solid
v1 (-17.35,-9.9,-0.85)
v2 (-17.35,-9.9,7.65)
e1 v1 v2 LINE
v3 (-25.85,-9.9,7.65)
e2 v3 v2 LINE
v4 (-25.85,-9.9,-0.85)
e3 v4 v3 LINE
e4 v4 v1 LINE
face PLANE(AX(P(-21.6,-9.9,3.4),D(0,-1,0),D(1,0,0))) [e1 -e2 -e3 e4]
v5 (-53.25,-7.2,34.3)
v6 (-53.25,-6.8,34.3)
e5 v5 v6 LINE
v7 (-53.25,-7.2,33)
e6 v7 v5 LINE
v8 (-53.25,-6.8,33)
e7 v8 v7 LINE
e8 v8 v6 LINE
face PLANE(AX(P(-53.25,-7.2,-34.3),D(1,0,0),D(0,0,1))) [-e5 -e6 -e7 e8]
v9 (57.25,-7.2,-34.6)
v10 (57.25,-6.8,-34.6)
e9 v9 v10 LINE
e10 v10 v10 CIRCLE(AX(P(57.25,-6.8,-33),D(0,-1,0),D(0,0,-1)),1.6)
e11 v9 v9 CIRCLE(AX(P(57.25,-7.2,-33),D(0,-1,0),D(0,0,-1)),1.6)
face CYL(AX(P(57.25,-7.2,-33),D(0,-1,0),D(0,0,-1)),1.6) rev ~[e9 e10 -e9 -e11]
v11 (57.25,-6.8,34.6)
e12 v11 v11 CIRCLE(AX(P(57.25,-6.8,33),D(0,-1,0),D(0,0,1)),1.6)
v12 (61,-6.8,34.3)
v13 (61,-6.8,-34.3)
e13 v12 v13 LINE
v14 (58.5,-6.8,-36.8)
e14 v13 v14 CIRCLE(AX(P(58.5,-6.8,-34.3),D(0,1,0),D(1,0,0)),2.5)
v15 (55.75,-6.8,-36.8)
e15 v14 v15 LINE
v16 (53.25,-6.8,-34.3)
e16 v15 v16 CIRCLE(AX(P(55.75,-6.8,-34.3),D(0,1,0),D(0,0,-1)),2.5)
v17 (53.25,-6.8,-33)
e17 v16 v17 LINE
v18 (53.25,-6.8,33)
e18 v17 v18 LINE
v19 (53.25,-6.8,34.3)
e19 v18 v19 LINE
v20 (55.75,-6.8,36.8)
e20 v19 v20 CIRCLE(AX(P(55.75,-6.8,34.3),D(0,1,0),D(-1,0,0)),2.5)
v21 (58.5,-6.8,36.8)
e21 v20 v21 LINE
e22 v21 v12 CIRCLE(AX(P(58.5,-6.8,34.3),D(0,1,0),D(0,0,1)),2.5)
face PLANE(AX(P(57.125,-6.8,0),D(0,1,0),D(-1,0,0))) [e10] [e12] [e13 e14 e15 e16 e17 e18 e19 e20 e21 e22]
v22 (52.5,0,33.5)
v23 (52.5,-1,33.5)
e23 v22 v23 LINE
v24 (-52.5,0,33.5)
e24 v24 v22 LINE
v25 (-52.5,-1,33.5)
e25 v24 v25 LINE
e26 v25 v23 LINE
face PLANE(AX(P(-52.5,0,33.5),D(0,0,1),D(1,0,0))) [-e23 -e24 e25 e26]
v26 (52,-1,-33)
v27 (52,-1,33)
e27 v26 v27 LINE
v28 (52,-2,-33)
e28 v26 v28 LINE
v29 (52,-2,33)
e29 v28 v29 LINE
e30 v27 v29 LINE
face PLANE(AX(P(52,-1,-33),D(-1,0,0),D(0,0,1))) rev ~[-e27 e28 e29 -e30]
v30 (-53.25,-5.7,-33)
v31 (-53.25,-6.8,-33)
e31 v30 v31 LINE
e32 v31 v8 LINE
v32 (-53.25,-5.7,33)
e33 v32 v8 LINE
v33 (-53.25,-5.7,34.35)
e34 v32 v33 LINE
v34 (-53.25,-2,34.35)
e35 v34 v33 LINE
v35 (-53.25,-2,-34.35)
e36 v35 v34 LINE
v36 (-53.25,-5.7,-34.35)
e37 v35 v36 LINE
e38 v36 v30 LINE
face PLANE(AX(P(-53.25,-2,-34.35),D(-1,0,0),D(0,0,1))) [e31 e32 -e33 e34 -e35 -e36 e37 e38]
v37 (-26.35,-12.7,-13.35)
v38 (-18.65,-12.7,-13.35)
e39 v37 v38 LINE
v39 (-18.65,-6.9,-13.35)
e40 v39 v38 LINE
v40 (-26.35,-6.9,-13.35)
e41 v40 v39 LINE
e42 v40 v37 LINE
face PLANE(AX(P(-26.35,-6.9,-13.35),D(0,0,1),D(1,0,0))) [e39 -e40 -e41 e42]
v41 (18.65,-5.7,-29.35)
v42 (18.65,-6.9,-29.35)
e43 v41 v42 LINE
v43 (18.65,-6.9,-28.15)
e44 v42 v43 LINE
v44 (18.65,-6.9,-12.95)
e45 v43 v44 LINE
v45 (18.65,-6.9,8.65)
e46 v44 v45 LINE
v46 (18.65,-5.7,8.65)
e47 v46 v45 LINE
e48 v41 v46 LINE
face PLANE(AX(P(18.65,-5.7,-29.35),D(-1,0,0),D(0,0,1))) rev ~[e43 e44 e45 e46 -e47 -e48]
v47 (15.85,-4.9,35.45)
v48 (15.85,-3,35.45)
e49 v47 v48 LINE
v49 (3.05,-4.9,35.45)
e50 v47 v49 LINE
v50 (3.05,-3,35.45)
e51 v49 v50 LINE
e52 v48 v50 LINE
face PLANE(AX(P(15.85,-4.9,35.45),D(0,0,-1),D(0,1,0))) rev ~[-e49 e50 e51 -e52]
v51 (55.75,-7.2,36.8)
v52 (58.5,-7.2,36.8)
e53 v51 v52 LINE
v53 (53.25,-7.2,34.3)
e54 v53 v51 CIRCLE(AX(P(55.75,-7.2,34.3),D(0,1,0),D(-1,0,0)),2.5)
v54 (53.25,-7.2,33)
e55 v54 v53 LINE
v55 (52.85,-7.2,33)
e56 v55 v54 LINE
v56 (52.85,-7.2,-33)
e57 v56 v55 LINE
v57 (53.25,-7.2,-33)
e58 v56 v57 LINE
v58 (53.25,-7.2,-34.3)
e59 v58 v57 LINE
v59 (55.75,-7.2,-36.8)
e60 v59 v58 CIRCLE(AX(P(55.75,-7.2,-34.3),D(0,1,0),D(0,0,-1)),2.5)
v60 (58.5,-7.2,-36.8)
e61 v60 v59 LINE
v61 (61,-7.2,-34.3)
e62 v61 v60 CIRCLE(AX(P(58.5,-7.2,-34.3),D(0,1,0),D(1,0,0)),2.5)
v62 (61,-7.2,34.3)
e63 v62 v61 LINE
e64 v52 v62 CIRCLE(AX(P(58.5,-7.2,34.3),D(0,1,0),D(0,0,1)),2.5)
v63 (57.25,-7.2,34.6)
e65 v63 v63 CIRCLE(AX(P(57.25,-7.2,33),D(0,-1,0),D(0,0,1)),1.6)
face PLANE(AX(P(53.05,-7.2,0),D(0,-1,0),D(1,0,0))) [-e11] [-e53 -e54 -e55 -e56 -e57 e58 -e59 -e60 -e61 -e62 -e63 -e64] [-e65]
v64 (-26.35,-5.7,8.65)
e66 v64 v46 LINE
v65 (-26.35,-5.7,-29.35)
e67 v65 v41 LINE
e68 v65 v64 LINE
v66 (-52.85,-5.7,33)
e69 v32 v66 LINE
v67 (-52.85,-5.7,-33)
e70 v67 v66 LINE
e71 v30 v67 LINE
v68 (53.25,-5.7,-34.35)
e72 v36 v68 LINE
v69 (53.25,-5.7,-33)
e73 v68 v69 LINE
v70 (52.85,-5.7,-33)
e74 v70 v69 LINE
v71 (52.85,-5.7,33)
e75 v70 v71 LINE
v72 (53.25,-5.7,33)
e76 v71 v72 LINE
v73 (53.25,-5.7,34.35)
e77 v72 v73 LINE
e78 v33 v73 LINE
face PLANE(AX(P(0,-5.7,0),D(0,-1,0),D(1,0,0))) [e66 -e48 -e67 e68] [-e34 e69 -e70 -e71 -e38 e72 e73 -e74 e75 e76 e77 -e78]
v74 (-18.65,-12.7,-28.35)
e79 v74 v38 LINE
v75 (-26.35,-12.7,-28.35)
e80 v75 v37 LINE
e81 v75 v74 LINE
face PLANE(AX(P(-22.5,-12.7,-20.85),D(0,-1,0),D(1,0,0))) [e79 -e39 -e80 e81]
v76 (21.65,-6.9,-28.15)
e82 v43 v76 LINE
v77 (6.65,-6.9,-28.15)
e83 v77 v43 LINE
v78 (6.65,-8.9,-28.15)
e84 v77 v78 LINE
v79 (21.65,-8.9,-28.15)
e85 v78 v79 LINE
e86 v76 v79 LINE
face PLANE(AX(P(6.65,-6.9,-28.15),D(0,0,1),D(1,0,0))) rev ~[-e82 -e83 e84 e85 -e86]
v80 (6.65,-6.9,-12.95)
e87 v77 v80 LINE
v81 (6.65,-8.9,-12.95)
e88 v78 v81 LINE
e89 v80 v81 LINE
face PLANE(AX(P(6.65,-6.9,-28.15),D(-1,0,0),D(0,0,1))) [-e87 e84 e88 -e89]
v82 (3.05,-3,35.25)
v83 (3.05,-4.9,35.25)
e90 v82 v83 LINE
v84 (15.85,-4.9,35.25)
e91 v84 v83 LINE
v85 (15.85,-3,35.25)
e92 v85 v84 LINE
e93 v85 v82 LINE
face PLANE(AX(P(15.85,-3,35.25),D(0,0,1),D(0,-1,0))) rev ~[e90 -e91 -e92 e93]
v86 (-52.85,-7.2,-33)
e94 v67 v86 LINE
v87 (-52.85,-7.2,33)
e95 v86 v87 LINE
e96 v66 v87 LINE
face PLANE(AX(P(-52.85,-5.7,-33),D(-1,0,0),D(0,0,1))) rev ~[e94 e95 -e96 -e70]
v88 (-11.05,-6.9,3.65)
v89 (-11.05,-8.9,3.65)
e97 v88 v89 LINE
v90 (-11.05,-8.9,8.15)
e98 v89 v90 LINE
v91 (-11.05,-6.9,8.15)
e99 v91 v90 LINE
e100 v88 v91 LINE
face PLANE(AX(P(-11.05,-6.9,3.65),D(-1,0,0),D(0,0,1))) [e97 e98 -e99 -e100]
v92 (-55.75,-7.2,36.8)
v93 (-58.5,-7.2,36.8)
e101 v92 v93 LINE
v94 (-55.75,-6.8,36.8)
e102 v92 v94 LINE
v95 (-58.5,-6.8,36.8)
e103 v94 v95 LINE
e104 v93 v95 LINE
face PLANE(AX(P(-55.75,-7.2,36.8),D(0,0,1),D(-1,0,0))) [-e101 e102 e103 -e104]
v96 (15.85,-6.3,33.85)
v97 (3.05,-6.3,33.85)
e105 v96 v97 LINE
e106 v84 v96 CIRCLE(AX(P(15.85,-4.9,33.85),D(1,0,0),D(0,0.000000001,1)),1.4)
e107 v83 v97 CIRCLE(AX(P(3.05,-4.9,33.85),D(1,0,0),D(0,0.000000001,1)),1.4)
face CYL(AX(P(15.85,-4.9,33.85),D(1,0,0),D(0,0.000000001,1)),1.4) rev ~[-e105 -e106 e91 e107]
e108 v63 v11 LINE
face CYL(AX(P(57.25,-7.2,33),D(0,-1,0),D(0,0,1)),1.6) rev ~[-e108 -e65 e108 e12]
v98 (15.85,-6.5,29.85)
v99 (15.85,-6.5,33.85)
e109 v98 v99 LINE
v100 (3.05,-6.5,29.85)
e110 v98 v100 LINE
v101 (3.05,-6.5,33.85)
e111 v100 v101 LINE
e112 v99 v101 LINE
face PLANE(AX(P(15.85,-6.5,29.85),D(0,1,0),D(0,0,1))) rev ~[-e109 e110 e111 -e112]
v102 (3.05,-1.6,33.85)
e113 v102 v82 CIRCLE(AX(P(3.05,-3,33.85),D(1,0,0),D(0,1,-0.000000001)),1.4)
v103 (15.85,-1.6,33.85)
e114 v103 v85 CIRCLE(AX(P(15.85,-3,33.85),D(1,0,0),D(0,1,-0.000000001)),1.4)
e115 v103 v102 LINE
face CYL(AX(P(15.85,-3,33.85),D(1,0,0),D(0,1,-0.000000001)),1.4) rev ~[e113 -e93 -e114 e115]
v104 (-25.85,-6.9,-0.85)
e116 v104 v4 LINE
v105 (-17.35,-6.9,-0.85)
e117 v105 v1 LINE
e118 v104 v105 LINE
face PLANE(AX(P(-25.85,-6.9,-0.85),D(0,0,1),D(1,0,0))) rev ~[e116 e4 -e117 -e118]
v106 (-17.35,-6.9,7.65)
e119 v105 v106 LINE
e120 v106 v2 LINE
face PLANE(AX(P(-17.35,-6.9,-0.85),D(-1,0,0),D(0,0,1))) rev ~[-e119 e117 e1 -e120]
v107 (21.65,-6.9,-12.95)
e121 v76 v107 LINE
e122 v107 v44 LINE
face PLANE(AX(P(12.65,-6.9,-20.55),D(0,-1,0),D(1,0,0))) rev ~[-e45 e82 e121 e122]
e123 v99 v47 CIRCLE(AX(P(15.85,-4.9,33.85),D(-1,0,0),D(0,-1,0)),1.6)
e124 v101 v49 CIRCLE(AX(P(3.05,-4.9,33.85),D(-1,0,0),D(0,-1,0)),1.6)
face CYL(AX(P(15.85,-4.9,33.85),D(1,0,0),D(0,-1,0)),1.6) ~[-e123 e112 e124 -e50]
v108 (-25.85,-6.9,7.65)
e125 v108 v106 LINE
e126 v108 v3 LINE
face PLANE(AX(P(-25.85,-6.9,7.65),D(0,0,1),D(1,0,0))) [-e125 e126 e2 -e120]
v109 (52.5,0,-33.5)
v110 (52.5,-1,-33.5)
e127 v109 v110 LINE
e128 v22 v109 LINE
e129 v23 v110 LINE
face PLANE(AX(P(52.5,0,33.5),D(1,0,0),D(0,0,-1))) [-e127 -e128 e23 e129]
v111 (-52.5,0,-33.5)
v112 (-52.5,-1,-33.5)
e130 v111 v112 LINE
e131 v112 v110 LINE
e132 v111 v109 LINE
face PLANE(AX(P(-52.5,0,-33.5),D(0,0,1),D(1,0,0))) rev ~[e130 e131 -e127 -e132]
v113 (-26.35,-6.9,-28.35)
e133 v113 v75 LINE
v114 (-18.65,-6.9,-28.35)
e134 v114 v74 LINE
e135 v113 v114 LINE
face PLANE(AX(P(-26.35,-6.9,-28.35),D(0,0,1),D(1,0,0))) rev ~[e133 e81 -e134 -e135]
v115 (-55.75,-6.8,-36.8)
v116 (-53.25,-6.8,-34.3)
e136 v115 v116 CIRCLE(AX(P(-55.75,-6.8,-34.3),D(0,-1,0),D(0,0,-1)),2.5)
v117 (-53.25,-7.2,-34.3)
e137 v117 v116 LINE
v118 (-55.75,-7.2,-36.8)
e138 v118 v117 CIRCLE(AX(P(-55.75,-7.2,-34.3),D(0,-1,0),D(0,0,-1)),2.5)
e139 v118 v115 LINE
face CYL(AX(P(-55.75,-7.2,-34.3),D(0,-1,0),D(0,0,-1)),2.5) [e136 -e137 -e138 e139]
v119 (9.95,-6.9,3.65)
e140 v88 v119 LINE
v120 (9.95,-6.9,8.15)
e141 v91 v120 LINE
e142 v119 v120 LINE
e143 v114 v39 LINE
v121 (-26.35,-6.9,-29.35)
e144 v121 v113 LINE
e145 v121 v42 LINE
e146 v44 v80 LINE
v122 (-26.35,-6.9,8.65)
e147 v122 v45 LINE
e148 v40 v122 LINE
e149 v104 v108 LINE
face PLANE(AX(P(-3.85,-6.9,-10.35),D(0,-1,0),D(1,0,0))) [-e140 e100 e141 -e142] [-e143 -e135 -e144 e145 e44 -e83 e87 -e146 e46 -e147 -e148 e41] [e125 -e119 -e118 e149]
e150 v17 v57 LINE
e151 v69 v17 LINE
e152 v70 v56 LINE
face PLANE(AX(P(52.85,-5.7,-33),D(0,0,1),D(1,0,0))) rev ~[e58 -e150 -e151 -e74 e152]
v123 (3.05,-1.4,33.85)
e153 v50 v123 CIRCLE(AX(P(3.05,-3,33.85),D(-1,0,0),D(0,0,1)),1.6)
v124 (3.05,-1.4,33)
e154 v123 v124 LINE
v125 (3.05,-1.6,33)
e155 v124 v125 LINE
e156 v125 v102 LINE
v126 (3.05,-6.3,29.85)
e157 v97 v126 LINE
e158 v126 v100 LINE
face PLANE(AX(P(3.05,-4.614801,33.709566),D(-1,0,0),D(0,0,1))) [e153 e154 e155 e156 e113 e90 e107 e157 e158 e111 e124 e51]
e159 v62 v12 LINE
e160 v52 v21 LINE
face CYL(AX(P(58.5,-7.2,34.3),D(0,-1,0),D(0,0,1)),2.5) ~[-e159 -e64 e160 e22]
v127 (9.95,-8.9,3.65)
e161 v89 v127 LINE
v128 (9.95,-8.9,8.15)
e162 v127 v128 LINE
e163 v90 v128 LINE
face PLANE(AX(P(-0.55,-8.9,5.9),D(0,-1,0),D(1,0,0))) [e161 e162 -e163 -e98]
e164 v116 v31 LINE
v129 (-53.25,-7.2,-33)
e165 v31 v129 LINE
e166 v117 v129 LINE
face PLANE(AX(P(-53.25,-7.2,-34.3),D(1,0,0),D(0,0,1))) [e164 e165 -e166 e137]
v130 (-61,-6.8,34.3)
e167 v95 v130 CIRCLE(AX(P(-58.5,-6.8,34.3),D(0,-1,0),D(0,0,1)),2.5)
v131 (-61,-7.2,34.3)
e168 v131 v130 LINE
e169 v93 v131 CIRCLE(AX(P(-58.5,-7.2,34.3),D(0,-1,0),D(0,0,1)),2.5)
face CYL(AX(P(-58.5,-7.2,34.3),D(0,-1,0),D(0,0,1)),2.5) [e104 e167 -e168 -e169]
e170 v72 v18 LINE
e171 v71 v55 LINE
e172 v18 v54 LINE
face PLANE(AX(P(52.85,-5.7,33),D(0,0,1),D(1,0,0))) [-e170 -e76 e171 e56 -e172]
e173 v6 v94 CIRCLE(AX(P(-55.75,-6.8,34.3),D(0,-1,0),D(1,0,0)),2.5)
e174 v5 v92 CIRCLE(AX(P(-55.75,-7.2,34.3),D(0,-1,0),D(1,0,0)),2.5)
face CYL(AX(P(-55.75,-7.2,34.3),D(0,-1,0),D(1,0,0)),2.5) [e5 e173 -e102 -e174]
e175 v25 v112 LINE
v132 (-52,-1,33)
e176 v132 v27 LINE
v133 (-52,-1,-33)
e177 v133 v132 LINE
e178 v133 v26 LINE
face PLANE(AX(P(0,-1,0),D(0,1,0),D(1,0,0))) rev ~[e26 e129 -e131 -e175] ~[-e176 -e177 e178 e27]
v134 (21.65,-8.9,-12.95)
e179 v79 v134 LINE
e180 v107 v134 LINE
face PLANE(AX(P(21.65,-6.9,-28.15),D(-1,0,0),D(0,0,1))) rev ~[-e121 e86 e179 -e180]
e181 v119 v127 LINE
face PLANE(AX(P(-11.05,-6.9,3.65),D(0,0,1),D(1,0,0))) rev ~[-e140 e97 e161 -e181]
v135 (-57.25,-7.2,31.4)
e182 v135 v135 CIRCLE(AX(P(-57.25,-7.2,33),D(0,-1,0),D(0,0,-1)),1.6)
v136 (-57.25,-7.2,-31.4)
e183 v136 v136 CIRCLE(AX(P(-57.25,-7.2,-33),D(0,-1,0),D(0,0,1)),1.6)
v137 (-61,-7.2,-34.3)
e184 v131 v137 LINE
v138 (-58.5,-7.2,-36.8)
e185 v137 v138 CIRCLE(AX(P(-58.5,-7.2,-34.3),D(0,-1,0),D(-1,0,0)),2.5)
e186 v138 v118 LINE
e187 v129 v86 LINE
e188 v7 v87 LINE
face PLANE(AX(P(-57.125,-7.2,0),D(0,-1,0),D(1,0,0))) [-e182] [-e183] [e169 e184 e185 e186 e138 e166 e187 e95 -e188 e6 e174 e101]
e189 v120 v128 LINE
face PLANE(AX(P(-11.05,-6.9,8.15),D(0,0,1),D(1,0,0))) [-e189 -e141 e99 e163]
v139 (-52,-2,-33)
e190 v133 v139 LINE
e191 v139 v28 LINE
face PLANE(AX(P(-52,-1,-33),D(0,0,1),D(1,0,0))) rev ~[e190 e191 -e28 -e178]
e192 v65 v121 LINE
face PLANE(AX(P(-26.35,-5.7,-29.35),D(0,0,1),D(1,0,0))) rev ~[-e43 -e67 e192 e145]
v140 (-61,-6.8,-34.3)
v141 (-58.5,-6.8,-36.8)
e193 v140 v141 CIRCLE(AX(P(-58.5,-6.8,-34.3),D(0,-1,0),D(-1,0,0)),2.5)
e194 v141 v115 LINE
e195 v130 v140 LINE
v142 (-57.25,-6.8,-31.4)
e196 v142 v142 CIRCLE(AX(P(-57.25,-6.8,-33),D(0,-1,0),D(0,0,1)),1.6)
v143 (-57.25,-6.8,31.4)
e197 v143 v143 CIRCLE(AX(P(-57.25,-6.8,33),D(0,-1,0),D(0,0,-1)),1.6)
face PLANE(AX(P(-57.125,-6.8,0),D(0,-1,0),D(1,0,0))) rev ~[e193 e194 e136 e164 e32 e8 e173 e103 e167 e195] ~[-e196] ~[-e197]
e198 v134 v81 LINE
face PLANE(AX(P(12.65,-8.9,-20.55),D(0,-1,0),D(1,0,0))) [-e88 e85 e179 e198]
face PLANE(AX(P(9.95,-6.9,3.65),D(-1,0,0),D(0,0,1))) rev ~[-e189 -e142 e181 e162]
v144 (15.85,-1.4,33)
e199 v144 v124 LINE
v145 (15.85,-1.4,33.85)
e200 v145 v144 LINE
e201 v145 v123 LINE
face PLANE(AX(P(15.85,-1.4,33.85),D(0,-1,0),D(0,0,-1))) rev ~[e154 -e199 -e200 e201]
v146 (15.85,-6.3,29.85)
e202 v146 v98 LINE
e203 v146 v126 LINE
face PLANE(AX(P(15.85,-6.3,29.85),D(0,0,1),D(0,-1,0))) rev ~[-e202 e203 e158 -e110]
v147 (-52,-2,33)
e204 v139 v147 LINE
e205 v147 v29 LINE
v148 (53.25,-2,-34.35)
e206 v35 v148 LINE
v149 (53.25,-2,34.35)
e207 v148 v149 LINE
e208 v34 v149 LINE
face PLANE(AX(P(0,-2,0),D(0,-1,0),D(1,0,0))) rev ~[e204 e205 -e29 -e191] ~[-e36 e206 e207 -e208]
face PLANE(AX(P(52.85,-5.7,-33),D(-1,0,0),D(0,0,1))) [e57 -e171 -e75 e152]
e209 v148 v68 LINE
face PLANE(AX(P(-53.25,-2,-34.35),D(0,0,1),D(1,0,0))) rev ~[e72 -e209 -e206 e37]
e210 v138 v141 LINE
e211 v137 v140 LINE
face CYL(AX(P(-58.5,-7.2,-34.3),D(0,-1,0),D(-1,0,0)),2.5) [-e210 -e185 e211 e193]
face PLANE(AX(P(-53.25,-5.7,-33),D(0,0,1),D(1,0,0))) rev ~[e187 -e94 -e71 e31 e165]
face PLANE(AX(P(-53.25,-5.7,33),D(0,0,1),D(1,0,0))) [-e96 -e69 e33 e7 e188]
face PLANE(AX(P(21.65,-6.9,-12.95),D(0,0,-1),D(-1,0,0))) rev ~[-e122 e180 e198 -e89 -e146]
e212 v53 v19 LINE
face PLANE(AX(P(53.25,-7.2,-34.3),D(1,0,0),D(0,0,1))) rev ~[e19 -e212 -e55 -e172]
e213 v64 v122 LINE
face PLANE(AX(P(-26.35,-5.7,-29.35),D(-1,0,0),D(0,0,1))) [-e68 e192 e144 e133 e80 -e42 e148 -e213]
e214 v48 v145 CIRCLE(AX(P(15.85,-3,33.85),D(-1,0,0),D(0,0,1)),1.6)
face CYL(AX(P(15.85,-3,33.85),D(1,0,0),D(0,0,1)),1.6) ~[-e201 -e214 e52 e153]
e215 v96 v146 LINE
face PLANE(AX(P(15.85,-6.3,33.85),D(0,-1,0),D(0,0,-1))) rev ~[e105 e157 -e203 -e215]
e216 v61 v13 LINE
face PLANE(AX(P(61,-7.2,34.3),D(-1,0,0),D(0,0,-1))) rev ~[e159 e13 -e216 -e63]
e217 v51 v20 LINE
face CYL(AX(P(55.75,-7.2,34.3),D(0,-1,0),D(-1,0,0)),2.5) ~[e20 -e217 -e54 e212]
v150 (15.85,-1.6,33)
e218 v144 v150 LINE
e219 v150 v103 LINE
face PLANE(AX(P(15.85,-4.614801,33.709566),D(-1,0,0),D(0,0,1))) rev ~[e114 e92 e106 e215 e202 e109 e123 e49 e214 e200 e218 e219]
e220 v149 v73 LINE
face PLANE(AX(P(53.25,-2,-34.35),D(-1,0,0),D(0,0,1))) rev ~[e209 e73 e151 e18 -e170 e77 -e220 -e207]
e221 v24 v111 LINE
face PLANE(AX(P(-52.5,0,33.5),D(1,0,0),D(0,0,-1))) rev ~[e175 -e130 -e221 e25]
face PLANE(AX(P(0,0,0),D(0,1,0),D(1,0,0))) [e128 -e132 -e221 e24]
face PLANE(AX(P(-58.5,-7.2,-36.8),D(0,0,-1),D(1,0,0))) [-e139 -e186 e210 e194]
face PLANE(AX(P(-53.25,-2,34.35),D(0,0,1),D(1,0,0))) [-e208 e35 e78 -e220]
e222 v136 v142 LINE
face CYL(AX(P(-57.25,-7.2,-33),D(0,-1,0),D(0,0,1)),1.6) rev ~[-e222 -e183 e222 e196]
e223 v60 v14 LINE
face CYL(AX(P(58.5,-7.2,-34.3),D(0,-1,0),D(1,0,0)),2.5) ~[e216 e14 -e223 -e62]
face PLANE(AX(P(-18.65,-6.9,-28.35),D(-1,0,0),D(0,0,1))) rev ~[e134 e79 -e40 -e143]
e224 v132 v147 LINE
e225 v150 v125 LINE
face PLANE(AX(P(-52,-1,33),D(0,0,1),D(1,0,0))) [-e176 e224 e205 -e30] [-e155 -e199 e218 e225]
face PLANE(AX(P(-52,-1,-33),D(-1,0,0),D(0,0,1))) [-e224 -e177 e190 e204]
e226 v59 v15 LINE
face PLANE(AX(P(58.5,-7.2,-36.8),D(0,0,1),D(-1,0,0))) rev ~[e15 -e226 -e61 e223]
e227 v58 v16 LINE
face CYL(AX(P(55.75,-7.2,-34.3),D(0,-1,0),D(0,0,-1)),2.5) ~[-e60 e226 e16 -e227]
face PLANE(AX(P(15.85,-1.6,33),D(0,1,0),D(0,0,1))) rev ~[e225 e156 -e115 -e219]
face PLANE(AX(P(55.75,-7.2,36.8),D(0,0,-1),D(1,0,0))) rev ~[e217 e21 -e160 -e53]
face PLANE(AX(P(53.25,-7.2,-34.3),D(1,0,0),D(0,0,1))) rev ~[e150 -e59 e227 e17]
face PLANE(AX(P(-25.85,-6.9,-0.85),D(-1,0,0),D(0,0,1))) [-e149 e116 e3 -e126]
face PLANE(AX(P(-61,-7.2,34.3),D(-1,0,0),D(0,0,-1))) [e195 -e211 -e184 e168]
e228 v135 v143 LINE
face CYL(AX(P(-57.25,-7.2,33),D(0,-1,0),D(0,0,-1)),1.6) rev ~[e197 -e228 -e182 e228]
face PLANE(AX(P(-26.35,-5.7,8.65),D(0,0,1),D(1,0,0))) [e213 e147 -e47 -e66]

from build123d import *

# Parameters (mm, degrees)
SKETCH_1_W       = 105
SKETCH_1_H       = 67
EXTRUDE_1_DEPTH  = 1
SKETCH_2_W       = 104
SKETCH_2_H       = 66
EXTRUDE_2_DEPTH  = 1
SKETCH_3_W       = 106.5
SKETCH_3_H       = 68.7
EXTRUDE_3_DEPTH  = 3.7
SKETCH_4_W       = 0.4
SKETCH_4_H       = 66
EXTRUDE_4_DEPTH  = 1.5
SKETCH_5_R       = 1.6
EXTRUDE_5_DEPTH  = 0.4
SKETCH_7_W       = 45
SKETCH_7_H       = 38
EXTRUDE_6_DEPTH  = 1.2
SKETCH_8_W       = 7.7
SKETCH_8_H       = 15
EXTRUDE_7_DEPTH  = 5.8
SKETCH_8_3_W     = 8.5
SKETCH_8_3_H     = 8.5
EXTRUDE_8_DEPTH  = 3
SKETCH_8_4_W     = 21
SKETCH_8_4_H     = 4.5
EXTRUDE_9_DEPTH  = 2
SKETCH_8_5_W     = 15
SKETCH_8_5_H     = 15.2
EXTRUDE_10_DEPTH = 2
EXTRUDE_START    = -37.4
EXTRUDE_11_DEPTH = 12.8


with BuildPart() as part:
    # 草圖1 → 填料-伸長1 (new body)
    with BuildSketch(Plane(origin=(0, 0, 0), x_dir=(1, 0, 0), z_dir=(0, 1, 0))):
        Rectangle(SKETCH_1_W, SKETCH_1_H)
    extrude(amount=-EXTRUDE_1_DEPTH)

    # 草圖2 → 填料-伸長2 (add)
    with BuildSketch(Plane.XZ.offset(1)):
        Rectangle(SKETCH_2_W, SKETCH_2_H)
    extrude(amount=EXTRUDE_2_DEPTH)

    # 草圖3 → 填料-伸長3 (add)
    with BuildSketch(Plane.XZ.offset(2)):
        Rectangle(SKETCH_3_W, SKETCH_3_H)
    extrude(amount=EXTRUDE_3_DEPTH)

    # 草圖4 → 填料-伸長4 (add)
    with BuildSketch(Plane.XZ.offset(5.7)):
        with Locations((-53.05, 0)):
            Rectangle(SKETCH_4_W, SKETCH_4_H)
        with Locations((53.05, 0)):
            Rectangle(SKETCH_4_W, SKETCH_4_H)
    extrude(amount=EXTRUDE_4_DEPTH)

    # 草圖5 → 填料-伸長5 (add)
    # profile 1 of 2: a face of its own
    with BuildSketch(Plane.XZ.offset(7.2)):
        with BuildLine():
            Line((-55.75, 36.8), (-58.5, 36.8))
            ThreePointArc((-58.5, 36.8), (-60.267766953, 36.067766953), (-61, 34.3))
            Line((-61, 34.3), (-61, -34.3))
            ThreePointArc((-61, -34.3), (-60.267766953, -36.067766953), (-58.5, -36.8))
            Line((-58.5, -36.8), (-55.75, -36.8))
            ThreePointArc((-55.75, -36.8), (-53.982233047, -36.067766953), (-53.25, -34.3))
            Line((-53.25, -34.3), (-53.25, 34.3))
            ThreePointArc((-53.25, 34.3), (-53.982233047, 36.067766953), (-55.75, 36.8))
        make_face()
        with Locations((-57.25, 33)):
            Circle(SKETCH_5_R, mode=Mode.SUBTRACT)
        with Locations((-57.25, -33)):
            Circle(SKETCH_5_R, mode=Mode.SUBTRACT)
    # profile 2 of 2: a face of its own
    with BuildSketch(Plane.XZ.offset(7.2)):
        with BuildLine():
            Line((61, 34.3), (61, -34.3))
            ThreePointArc((61, -34.3), (60.267766953, -36.067766953), (58.5, -36.8))
            Line((58.5, -36.8), (55.75, -36.8))
            ThreePointArc((55.75, -36.8), (53.982233047, -36.067766953), (53.25, -34.3))
            Line((53.25, -34.3), (53.25, 34.3))
            ThreePointArc((53.25, 34.3), (53.982233047, 36.067766953), (55.75, 36.8))
            Line((55.75, 36.8), (58.5, 36.8))
            ThreePointArc((58.5, 36.8), (60.267766953, 36.067766953), (61, 34.3))
        make_face()
        with Locations((57.25, -33)):
            Circle(SKETCH_5_R, mode=Mode.SUBTRACT)
        with Locations((57.25, 33)):
            Circle(SKETCH_5_R, mode=Mode.SUBTRACT)
    extrude(amount=-EXTRUDE_5_DEPTH)

    # 草圖7 → 填料-伸長6 (add)
    with BuildSketch(Plane.XZ.offset(5.7)):
        with Locations((-3.85, -10.35)):
            Rectangle(SKETCH_7_W, SKETCH_7_H)
    extrude(amount=EXTRUDE_6_DEPTH)

    # 草圖8 → 填料-伸長7 (add)
    with BuildSketch(Plane.XZ.offset(6.9)):
        with Locations((-22.5, -20.85)):
            Rectangle(SKETCH_8_W, SKETCH_8_H)
    extrude(amount=EXTRUDE_7_DEPTH)

    # 草圖8<3> → 填料-伸長8 (add)
    with BuildSketch(Plane.XZ.offset(6.9)):
        with Locations((-21.6, 3.4)):
            Rectangle(SKETCH_8_3_W, SKETCH_8_3_H)
    extrude(amount=EXTRUDE_8_DEPTH)

    # 草圖8<4> → 填料-伸長9 (add)
    with BuildSketch(Plane.XZ.offset(6.9)):
        with Locations((-0.55, 5.9)):
            Rectangle(SKETCH_8_4_W, SKETCH_8_4_H)
    extrude(amount=EXTRUDE_9_DEPTH)

    # 草圖8<5> → 填料-伸長10 (add)
    with BuildSketch(Plane.XZ.offset(6.9)):
        with Locations((14.15, -20.55)):
            Rectangle(SKETCH_8_5_W, SKETCH_8_5_H)
    extrude(amount=EXTRUDE_10_DEPTH)

    # 草圖9 → 填料-伸長11 (add)
    with BuildSketch(Plane(origin=(53.25, 0, 0), x_dir=(0, 0, -1), z_dir=(1, 0, 0)).offset(EXTRUDE_START)):
        with BuildLine():
            Line((-33.85, -6.3), (-29.85, -6.3))
            Line((-29.85, -6.3), (-29.85, -6.5))
            Line((-29.85, -6.5), (-33.85, -6.5))
            ThreePointArc((-33.85, -6.5), (-34.98137085, -6.03137085), (-35.45, -4.9))
            Line((-35.45, -4.9), (-35.45, -3))
            ThreePointArc((-35.45, -3), (-34.98137085, -1.86862915), (-33.85, -1.4))
            Line((-33.85, -1.4), (-33, -1.4))
            Line((-33, -1.4), (-33, -1.6))
            Line((-33, -1.6), (-33.85, -1.6))
            ThreePointArc((-33.85, -1.6), (-34.839949494, -2.010050506), (-35.25, -3))
            Line((-35.25, -3), (-35.25, -4.9))
            ThreePointArc((-35.25, -4.9), (-34.839949494, -5.889949494), (-33.85, -6.3))
        make_face()
    extrude(amount=-EXTRUDE_11_DEPTH)


solid = part.part
